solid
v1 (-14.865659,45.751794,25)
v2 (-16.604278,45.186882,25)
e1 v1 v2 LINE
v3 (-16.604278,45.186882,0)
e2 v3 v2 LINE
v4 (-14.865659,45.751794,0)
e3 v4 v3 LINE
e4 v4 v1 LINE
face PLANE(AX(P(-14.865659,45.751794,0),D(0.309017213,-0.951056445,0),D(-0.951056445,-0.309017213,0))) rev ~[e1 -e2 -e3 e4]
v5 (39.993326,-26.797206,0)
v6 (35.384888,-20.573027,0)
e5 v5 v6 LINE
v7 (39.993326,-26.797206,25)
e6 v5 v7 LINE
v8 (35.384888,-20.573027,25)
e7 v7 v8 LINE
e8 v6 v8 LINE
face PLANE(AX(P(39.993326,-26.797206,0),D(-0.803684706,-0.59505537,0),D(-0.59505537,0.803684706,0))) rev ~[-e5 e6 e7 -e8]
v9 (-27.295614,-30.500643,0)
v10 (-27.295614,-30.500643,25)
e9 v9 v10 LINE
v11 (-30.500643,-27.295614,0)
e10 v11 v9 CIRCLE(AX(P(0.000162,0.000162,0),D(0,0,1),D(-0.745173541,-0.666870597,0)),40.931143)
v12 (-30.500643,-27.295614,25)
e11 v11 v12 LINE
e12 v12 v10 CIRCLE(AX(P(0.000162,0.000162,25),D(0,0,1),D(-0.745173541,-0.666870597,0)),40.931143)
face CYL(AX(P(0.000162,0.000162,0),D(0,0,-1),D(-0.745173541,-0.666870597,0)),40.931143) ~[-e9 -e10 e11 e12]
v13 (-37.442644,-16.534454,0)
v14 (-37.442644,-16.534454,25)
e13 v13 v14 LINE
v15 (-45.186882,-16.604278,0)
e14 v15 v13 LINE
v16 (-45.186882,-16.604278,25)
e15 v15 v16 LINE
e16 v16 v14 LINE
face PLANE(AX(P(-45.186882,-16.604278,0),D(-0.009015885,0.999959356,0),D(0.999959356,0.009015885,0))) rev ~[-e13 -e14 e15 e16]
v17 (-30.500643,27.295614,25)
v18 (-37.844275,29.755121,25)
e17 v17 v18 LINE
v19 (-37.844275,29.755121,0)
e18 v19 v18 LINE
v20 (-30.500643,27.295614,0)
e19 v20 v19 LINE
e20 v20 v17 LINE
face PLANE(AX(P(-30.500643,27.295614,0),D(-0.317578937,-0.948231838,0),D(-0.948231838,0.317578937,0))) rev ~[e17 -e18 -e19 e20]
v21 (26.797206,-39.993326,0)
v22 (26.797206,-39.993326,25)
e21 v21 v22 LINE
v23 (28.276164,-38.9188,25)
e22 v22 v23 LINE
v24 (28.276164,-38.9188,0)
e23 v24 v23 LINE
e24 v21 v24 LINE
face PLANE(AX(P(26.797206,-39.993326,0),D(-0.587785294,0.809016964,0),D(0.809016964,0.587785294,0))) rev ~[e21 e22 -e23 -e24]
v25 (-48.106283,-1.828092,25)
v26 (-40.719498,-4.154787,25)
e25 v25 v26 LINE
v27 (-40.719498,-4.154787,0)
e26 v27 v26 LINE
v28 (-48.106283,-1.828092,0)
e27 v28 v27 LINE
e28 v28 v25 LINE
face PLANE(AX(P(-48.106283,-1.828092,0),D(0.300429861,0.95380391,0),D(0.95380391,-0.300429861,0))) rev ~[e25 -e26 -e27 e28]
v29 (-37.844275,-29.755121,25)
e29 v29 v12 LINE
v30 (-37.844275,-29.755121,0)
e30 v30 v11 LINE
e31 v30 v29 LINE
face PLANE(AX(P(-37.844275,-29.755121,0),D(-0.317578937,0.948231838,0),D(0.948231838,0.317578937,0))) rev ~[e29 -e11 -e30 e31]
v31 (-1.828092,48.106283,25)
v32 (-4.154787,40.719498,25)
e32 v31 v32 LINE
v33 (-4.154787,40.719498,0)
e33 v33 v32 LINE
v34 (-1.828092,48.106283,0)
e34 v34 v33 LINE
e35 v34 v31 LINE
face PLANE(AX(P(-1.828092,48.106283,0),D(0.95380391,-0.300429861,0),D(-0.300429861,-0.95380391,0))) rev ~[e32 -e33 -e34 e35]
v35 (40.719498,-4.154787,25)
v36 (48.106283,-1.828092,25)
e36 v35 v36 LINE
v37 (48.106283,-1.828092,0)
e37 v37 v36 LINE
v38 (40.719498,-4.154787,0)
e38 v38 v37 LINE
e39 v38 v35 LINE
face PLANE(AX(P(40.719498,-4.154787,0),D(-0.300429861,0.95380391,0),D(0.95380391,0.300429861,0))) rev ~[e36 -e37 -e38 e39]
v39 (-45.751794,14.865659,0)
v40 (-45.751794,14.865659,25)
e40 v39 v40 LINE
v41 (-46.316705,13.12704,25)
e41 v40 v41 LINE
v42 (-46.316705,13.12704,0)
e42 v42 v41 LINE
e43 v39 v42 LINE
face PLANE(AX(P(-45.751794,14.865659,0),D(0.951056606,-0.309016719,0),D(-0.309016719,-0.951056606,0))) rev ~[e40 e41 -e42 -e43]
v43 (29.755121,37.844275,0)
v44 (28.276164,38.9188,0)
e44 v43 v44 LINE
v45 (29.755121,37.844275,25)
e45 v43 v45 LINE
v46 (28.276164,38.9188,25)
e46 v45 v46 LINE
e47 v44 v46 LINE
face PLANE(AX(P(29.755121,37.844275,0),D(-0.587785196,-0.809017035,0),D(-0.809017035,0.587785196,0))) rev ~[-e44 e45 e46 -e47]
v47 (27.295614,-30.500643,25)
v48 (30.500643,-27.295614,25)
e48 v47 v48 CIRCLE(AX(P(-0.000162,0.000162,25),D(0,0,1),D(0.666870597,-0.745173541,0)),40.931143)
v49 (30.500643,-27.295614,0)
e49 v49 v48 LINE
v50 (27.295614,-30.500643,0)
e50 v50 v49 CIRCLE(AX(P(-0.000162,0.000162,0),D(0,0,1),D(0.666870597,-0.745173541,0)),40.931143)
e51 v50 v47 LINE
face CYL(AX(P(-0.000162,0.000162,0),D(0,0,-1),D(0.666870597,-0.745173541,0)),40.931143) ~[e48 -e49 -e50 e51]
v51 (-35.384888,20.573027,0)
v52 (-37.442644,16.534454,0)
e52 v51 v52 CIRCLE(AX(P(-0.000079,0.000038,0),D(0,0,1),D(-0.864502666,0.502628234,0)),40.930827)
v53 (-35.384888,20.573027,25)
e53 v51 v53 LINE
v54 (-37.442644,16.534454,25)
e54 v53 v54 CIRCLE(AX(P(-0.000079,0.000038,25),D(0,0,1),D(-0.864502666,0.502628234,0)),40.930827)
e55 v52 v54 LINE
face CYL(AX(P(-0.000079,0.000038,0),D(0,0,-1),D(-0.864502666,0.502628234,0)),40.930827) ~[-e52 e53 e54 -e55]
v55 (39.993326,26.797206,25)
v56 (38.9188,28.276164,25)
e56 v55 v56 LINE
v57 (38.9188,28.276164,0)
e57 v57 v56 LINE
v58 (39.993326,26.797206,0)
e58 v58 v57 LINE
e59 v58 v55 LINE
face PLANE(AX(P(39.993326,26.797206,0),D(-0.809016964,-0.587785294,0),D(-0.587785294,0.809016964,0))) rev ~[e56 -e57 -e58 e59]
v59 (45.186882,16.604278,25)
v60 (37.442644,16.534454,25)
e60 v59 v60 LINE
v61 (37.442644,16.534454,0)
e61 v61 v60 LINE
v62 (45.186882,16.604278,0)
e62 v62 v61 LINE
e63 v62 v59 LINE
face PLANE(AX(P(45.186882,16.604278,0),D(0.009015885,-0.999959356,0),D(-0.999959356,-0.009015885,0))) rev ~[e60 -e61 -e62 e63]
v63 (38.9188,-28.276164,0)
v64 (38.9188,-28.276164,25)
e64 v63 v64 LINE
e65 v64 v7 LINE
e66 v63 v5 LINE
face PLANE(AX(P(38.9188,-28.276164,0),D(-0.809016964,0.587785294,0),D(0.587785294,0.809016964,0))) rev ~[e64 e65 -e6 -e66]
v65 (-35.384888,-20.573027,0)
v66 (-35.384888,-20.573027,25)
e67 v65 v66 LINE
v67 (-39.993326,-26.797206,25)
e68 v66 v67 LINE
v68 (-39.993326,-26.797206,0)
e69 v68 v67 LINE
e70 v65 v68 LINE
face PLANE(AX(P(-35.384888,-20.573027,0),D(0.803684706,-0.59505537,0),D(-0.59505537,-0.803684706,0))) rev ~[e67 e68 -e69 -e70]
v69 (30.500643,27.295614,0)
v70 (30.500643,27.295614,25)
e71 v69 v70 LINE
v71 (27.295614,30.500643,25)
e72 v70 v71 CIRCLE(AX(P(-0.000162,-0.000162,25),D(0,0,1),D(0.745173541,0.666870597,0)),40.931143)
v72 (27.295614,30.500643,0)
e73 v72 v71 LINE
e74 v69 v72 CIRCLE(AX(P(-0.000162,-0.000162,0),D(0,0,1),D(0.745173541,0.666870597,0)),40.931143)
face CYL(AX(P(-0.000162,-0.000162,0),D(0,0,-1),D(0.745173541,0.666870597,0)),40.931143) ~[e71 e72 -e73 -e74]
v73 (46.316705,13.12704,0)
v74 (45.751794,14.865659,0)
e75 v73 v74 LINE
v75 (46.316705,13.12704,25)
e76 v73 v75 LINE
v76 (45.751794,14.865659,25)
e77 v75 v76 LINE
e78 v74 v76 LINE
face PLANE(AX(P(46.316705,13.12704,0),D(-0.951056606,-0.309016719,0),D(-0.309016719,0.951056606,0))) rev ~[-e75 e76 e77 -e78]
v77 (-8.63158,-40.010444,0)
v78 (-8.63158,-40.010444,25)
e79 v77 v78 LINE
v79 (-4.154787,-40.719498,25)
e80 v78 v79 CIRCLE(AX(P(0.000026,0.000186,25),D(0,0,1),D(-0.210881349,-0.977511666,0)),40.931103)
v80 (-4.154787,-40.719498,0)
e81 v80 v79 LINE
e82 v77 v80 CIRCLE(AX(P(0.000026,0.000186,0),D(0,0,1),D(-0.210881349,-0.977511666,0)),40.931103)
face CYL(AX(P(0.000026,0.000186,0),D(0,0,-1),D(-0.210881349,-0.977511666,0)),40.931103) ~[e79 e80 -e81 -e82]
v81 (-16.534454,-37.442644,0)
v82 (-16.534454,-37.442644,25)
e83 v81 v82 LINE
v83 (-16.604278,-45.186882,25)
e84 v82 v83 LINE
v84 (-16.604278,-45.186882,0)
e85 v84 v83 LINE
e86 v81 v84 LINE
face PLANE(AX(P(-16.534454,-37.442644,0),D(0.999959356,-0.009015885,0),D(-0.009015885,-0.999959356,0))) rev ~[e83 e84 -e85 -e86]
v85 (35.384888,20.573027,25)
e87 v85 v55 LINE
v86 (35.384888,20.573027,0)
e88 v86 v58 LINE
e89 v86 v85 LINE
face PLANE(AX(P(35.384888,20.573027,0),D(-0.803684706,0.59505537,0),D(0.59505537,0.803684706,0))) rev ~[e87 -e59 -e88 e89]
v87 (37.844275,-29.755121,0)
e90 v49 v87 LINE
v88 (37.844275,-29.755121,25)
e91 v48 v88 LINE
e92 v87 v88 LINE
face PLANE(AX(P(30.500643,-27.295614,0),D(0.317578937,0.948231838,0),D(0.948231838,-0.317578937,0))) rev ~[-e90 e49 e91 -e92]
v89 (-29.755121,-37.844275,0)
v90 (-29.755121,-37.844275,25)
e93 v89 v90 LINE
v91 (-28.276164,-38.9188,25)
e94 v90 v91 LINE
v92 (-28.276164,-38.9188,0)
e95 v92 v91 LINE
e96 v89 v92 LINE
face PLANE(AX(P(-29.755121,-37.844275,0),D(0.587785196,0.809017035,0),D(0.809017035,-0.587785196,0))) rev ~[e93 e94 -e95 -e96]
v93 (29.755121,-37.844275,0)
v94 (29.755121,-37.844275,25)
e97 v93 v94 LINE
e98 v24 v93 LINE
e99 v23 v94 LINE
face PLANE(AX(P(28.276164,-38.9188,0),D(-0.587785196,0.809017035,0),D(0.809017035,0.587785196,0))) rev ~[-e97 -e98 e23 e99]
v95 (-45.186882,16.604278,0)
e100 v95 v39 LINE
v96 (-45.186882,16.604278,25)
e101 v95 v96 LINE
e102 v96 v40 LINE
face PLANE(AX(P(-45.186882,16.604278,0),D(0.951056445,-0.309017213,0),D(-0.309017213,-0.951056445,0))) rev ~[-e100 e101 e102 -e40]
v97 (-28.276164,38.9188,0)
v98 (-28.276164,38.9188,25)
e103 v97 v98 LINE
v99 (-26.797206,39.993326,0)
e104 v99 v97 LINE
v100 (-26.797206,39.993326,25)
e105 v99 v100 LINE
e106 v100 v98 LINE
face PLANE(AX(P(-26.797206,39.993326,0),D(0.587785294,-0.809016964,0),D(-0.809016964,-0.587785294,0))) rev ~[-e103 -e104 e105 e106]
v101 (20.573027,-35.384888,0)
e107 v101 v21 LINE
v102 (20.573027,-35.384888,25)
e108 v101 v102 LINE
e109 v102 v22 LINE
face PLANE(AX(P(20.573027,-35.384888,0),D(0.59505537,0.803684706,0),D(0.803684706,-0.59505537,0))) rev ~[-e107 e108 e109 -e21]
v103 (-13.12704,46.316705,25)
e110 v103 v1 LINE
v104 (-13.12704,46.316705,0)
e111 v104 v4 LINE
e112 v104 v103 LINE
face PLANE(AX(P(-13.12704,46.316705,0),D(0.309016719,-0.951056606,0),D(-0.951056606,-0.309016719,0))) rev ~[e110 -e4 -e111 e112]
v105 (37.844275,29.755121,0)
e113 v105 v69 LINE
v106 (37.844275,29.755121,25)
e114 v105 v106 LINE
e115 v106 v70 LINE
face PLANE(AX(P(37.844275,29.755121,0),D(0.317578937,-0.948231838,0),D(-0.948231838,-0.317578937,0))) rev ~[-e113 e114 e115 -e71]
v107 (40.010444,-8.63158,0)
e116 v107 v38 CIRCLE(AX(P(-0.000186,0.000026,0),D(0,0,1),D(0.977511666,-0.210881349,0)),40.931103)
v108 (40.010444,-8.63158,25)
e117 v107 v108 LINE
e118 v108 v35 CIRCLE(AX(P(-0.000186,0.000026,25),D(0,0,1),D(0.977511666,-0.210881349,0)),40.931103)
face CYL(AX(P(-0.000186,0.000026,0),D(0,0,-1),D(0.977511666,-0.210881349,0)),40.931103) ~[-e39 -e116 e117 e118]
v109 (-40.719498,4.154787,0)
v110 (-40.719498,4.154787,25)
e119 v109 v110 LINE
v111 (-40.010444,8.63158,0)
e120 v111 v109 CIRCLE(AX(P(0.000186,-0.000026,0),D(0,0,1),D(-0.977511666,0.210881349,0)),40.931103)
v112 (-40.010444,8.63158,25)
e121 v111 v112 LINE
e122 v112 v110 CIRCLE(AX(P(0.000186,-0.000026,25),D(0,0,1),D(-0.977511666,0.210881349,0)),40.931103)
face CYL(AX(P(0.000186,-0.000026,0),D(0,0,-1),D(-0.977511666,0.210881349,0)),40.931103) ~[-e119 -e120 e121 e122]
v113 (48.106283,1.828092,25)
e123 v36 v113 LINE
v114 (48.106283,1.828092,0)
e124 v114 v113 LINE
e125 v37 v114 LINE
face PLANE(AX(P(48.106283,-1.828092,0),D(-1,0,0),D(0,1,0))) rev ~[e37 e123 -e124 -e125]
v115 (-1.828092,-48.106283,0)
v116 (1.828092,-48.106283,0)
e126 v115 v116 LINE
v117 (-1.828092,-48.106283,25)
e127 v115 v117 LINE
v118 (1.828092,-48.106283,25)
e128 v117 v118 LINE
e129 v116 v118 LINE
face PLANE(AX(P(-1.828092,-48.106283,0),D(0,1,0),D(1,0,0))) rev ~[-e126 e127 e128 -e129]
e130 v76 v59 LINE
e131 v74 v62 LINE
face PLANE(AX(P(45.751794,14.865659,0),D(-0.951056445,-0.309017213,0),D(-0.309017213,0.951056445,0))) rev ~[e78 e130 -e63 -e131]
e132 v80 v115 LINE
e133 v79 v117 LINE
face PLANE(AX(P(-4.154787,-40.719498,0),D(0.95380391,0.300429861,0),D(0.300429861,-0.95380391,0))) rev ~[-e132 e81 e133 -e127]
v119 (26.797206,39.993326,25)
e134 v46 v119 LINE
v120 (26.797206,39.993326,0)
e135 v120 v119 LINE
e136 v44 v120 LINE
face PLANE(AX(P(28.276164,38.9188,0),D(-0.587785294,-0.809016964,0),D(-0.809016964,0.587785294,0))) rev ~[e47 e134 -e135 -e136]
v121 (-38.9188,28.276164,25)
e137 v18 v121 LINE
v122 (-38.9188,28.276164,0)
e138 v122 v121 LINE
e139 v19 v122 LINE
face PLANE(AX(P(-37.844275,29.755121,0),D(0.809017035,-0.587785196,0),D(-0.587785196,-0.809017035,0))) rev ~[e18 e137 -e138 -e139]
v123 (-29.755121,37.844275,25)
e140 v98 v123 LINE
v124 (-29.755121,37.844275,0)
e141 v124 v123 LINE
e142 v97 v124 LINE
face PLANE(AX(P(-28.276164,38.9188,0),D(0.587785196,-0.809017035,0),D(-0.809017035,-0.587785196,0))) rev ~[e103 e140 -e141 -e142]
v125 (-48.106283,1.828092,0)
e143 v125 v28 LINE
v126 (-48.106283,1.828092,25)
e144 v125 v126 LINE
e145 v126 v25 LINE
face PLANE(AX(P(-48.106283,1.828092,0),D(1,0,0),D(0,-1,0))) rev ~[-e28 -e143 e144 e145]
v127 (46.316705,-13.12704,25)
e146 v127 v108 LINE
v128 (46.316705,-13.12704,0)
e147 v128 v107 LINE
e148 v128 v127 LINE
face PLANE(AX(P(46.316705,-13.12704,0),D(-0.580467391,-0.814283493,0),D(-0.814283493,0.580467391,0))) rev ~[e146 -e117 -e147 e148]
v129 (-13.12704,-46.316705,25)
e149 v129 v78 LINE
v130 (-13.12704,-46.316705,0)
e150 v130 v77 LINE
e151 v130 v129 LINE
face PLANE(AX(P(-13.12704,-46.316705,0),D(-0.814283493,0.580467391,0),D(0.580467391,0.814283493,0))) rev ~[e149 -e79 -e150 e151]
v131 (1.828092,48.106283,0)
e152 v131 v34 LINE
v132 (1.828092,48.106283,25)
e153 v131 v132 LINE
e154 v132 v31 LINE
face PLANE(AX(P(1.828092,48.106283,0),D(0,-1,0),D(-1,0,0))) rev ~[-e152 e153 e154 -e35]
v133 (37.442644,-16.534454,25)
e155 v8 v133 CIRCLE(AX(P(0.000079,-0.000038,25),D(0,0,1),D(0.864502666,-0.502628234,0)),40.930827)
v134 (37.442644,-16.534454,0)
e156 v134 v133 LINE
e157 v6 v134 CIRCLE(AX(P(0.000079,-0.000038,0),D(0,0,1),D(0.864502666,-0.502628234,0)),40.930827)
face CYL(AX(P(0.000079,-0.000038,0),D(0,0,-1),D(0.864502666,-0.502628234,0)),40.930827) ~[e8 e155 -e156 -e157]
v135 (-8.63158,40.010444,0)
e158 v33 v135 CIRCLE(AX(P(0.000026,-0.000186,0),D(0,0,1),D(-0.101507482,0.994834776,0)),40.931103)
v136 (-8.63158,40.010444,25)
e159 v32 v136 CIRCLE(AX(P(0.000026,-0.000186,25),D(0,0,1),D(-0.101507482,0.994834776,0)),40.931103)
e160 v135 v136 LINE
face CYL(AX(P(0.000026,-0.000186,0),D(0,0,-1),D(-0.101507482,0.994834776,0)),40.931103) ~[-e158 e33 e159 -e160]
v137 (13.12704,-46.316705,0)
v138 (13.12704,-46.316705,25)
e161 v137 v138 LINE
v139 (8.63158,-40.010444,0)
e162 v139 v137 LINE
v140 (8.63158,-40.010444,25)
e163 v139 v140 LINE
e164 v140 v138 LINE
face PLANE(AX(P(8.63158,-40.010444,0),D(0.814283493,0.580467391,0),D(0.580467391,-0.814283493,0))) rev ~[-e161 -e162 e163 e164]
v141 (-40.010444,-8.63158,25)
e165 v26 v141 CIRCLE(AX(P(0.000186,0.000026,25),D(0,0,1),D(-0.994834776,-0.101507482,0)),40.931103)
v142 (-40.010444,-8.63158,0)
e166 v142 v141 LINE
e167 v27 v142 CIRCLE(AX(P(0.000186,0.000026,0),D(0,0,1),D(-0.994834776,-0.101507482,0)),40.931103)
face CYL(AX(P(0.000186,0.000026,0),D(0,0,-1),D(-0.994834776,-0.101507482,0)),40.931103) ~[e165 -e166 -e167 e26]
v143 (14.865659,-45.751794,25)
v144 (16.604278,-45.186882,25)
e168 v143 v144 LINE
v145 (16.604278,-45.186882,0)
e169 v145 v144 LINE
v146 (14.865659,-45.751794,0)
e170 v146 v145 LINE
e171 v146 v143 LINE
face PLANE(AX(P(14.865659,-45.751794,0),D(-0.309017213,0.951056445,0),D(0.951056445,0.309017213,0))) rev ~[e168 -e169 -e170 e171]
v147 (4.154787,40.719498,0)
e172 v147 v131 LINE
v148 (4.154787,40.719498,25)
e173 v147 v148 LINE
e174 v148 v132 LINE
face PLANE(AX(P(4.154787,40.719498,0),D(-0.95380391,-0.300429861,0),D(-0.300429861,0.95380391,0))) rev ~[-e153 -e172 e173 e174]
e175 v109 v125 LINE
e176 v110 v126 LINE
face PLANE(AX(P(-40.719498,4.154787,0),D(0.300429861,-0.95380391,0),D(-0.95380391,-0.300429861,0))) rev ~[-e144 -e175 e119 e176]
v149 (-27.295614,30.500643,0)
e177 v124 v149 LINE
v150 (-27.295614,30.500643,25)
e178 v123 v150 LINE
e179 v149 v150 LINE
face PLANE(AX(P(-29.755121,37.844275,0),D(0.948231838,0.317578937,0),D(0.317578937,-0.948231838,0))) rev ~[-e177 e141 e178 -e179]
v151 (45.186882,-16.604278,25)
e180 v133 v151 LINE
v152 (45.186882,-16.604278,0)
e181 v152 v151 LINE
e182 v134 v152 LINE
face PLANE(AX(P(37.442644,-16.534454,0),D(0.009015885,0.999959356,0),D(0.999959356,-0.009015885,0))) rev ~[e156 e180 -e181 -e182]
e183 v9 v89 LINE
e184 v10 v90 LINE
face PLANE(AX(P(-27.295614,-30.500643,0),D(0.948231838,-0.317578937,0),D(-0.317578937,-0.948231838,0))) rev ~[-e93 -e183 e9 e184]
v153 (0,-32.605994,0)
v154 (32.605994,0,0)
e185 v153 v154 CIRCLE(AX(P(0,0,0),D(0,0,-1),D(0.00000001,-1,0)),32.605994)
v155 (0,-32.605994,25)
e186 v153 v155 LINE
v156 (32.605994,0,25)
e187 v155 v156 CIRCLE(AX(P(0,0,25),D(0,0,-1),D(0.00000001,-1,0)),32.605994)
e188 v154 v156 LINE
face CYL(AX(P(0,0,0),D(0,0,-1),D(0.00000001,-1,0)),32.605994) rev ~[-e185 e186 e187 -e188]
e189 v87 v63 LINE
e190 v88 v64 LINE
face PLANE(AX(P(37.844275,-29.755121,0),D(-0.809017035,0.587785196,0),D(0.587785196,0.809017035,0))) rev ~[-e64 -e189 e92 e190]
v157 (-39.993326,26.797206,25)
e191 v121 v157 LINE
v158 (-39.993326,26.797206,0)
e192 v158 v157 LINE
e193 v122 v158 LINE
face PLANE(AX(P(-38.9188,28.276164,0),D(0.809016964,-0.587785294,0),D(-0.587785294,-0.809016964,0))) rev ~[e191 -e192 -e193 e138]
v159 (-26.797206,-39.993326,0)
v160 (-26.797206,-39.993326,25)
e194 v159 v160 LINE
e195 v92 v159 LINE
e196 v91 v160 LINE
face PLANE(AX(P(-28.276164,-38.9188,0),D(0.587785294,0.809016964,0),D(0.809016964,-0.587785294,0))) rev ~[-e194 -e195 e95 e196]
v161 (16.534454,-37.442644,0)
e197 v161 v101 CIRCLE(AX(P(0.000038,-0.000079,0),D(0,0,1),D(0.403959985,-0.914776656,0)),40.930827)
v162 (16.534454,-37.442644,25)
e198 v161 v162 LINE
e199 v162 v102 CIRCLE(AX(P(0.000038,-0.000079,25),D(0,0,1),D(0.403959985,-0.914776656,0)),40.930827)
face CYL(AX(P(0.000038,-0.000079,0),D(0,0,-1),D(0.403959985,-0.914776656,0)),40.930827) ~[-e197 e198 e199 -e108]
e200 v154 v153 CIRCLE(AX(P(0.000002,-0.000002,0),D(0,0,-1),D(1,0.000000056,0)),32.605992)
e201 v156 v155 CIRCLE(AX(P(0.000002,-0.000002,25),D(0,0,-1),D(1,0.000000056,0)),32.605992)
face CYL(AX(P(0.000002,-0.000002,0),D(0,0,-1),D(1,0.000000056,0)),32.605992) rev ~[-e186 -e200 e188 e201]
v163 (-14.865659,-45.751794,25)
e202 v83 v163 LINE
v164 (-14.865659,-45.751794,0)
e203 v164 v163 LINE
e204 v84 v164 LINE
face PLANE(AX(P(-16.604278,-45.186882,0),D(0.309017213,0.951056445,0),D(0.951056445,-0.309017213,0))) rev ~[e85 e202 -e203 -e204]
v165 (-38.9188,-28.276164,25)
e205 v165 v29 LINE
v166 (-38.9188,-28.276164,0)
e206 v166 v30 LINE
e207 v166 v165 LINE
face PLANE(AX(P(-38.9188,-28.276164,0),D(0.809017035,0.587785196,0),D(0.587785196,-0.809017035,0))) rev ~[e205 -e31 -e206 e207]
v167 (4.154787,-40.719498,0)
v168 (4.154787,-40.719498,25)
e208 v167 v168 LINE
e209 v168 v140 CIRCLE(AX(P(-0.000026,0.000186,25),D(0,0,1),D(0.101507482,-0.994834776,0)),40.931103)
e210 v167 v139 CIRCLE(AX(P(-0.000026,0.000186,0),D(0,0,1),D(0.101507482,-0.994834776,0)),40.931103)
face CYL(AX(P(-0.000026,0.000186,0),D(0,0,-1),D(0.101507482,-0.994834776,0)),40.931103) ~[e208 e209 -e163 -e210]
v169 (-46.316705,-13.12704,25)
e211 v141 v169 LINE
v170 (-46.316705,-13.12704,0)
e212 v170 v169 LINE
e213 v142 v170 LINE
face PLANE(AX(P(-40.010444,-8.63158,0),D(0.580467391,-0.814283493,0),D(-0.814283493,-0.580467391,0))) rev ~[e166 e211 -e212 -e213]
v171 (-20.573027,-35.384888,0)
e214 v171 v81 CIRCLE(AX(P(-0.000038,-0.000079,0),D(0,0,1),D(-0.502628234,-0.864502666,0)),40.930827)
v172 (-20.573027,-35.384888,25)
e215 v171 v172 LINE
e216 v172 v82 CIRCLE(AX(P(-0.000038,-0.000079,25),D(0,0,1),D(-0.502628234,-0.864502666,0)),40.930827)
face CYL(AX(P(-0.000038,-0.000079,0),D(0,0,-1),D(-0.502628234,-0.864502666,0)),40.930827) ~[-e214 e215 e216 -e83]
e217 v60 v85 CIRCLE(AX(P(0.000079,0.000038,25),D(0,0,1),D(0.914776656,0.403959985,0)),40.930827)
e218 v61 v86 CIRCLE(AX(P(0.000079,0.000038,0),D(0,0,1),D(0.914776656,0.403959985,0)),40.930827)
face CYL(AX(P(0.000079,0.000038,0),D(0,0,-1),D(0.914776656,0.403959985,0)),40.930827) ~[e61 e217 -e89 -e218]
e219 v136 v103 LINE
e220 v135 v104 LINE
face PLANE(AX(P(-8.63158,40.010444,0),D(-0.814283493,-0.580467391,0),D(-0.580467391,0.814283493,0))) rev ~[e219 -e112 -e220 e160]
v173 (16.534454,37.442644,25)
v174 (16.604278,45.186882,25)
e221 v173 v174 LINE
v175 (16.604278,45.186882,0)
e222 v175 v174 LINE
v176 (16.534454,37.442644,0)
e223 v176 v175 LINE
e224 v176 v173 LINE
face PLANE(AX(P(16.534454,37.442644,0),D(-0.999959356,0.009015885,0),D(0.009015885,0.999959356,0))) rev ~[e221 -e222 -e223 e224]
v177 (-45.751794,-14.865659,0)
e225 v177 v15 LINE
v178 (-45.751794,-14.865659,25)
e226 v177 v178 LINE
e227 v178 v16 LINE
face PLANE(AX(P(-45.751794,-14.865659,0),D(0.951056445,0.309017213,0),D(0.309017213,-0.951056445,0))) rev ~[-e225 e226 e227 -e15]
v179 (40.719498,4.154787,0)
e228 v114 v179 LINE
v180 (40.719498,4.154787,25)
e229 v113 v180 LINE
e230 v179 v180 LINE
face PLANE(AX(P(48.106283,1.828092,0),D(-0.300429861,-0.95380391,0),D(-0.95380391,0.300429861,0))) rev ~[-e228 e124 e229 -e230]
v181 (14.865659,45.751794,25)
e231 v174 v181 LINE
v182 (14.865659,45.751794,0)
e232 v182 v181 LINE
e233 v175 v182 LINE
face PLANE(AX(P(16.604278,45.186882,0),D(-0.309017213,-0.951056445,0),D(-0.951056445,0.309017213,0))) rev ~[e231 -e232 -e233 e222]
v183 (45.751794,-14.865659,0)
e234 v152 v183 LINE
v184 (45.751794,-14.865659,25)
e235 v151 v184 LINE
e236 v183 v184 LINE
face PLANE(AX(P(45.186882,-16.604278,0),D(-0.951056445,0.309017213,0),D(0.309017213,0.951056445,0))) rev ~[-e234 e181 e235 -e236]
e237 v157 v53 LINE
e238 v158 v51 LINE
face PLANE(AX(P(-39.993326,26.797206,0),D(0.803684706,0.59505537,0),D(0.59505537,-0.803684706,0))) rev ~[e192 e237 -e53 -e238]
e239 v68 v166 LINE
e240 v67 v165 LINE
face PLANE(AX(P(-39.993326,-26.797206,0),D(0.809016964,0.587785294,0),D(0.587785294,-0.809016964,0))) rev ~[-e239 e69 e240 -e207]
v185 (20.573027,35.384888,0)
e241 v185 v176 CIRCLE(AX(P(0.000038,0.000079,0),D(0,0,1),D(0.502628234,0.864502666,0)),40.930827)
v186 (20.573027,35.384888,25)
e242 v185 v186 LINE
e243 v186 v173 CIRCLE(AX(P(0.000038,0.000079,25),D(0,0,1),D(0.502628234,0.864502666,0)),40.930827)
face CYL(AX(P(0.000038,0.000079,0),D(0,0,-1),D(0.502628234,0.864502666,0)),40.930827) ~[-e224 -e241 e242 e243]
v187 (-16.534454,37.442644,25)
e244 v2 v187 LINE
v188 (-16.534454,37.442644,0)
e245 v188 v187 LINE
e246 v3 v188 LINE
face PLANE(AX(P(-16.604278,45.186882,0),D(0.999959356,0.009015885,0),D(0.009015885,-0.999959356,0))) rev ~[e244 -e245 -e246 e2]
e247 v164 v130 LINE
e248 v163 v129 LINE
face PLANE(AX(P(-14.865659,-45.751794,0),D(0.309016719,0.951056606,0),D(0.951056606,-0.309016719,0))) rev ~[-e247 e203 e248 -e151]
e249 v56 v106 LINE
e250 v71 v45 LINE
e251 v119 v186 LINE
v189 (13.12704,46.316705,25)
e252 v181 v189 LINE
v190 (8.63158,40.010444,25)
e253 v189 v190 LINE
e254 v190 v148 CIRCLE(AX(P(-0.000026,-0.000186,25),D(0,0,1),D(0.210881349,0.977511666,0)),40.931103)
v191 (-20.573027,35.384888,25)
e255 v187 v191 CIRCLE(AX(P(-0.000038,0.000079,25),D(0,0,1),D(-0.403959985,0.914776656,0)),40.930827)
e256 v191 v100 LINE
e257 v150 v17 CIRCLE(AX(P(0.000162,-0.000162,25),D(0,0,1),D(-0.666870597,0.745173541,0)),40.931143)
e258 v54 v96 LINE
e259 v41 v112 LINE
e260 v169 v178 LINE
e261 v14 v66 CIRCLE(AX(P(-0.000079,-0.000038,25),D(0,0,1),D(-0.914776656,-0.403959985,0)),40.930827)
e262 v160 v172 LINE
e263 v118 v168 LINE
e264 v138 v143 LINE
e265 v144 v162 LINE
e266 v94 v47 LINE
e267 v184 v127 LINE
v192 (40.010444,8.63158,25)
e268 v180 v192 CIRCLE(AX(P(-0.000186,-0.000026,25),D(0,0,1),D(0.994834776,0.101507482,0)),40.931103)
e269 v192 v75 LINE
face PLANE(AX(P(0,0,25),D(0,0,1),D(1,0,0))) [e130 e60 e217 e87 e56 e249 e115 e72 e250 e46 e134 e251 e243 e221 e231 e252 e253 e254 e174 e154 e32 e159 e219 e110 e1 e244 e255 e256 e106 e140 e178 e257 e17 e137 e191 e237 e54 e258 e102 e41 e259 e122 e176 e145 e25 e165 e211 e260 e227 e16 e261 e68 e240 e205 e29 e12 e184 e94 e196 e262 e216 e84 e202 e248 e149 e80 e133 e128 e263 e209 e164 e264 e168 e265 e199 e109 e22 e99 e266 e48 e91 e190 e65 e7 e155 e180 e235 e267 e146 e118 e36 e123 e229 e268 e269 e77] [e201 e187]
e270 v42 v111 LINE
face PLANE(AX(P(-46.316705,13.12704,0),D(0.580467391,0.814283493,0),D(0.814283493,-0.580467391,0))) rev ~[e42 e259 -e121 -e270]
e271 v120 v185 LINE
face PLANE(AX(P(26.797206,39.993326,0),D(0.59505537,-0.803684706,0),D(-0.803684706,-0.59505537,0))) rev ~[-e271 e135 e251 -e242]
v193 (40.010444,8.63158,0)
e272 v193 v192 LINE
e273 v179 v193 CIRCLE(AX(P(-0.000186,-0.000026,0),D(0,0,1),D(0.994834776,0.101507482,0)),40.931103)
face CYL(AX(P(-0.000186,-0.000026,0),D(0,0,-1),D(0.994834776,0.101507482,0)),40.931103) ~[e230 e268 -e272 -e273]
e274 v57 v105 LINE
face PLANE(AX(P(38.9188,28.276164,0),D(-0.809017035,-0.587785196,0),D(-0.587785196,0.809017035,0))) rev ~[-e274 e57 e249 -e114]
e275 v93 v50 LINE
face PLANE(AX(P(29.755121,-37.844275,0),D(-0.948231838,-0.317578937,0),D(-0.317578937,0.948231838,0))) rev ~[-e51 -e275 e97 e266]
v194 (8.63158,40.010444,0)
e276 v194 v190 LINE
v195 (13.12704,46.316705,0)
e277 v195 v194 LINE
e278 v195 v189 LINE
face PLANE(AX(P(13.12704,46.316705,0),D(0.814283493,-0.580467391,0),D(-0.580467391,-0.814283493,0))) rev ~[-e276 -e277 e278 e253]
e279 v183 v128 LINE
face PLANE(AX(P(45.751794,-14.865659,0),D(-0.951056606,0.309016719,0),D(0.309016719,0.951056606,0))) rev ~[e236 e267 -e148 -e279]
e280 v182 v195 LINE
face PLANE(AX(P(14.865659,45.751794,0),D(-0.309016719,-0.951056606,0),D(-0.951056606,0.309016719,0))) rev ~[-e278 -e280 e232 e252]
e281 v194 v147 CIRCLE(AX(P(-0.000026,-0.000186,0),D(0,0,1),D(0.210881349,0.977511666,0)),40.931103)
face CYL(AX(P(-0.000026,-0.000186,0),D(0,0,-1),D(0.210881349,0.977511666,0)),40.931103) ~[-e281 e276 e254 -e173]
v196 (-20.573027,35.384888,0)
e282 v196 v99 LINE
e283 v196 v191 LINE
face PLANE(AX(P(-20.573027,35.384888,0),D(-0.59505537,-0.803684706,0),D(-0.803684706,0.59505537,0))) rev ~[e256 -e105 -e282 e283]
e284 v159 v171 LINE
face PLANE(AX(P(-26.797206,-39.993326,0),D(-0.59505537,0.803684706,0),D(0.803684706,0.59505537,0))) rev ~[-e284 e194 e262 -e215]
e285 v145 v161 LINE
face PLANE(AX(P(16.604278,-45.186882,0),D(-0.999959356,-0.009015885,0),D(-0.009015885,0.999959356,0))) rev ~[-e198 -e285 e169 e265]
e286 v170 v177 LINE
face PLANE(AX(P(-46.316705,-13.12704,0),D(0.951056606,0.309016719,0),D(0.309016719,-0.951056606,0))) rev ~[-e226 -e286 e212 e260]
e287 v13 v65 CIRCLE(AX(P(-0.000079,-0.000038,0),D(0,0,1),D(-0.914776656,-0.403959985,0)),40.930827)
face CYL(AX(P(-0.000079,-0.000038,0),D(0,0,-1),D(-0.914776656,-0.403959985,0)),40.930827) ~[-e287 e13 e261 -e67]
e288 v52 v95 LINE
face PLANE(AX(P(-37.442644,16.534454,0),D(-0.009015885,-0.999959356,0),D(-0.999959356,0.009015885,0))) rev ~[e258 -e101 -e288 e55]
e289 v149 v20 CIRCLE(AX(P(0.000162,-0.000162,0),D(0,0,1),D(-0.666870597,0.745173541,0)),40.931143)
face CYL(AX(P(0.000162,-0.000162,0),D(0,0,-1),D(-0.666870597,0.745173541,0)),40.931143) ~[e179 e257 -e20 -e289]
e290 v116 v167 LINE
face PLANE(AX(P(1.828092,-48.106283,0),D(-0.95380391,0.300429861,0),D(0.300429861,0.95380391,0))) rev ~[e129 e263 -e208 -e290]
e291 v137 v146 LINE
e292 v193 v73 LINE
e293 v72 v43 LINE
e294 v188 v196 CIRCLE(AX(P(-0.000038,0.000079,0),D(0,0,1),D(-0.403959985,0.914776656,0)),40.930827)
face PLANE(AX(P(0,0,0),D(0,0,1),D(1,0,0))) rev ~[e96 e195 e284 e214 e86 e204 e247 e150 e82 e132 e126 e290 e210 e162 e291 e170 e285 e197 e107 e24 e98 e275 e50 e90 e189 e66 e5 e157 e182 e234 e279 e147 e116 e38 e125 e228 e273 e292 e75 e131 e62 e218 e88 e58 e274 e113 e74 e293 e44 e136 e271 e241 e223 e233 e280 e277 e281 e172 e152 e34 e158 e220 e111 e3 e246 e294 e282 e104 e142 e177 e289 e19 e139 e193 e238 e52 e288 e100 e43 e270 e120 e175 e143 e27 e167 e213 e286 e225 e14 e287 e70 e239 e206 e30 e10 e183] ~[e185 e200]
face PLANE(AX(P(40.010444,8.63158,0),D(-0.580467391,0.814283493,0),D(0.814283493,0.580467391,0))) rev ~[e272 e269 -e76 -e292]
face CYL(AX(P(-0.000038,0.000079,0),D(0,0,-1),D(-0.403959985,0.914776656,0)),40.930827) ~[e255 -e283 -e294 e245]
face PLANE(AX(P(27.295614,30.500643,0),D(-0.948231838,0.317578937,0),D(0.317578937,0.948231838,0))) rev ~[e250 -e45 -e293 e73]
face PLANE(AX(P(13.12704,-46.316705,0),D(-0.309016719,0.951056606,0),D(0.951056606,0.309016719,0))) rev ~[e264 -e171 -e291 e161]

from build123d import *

# Parameters (mm, degrees)
F2_DEPTH = 25


with BuildPart() as f2:
    # F1 (on Top) → F2 (new body)
    with BuildSketch(Plane.XY):
        with BuildLine():
            Line((-1.828092, -48.106283), (0, -48.106283))
            Line((0, -48.106283), (1.828092, -48.106283))
            Line((1.828092, -48.106283), (4.154787, -40.719498))
            ThreePointArc((4.154787, -40.719498), (6.403006, -40.426987), (8.63158, -40.010444))
            Line((8.63158, -40.010444), (13.12704, -46.316705))
            Line((13.12704, -46.316705), (14.865659, -45.751794))
            Line((14.865659, -45.751794), (16.604278, -45.186882))
            Line((16.604278, -45.186882), (16.534454, -37.442644))
            ThreePointArc((16.534454, -37.442644), (18.582246, -36.469712), (20.573027, -35.384888))
            Line((20.573027, -35.384888), (26.797206, -39.993326))
            Line((26.797206, -39.993326), (28.276164, -38.9188))
            Line((28.276164, -38.9188), (29.755121, -37.844275))
            Line((29.755121, -37.844275), (27.295614, -30.500643))
            ThreePointArc((27.295614, -30.500643), (28.942527, -28.942527), (30.500643, -27.295614))
            Line((30.500643, -27.295614), (37.844275, -29.755121))
            Line((37.844275, -29.755121), (38.9188, -28.276164))
            Line((38.9188, -28.276164), (39.993326, -26.797206))
            Line((39.993326, -26.797206), (35.384888, -20.573027))
            ThreePointArc((35.384888, -20.573027), (36.469712, -18.582246), (37.442644, -16.534454))
            Line((37.442644, -16.534454), (45.186882, -16.604278))
            Line((45.186882, -16.604278), (45.751794, -14.865659))
            Line((45.751794, -14.865659), (46.316705, -13.12704))
            Line((46.316705, -13.12704), (40.010444, -8.63158))
            ThreePointArc((40.010444, -8.63158), (40.426987, -6.403006), (40.719498, -4.154787))
            Line((40.719498, -4.154787), (48.106283, -1.828092))
            Line((48.106283, -1.828092), (48.106283, 0))
            Line((48.106283, 0), (48.106283, 1.828092))
            Line((48.106283, 1.828092), (40.719498, 4.154787))
            ThreePointArc((40.719498, 4.154787), (40.426987, 6.403006), (40.010444, 8.63158))
            Line((40.010444, 8.63158), (46.316705, 13.12704))
            Line((46.316705, 13.12704), (45.751794, 14.865659))
            Line((45.751794, 14.865659), (45.186882, 16.604278))
            Line((45.186882, 16.604278), (37.442644, 16.534454))
            ThreePointArc((37.442644, 16.534454), (36.469712, 18.582246), (35.384888, 20.573027))
            Line((35.384888, 20.573027), (39.993326, 26.797206))
            Line((39.993326, 26.797206), (38.9188, 28.276164))
            Line((38.9188, 28.276164), (37.844275, 29.755121))
            Line((37.844275, 29.755121), (30.500643, 27.295614))
            ThreePointArc((30.500643, 27.295614), (28.942527, 28.942527), (27.295614, 30.500643))
            Line((27.295614, 30.500643), (29.755121, 37.844275))
            Line((29.755121, 37.844275), (28.276164, 38.9188))
            Line((28.276164, 38.9188), (26.797206, 39.993326))
            Line((26.797206, 39.993326), (20.573027, 35.384888))
            ThreePointArc((20.573027, 35.384888), (18.582246, 36.469712), (16.534454, 37.442644))
            Line((16.534454, 37.442644), (16.604278, 45.186882))
            Line((16.604278, 45.186882), (14.865659, 45.751794))
            Line((14.865659, 45.751794), (13.12704, 46.316705))
            Line((13.12704, 46.316705), (8.63158, 40.010444))
            ThreePointArc((8.63158, 40.010444), (6.403006, 40.426987), (4.154787, 40.719498))
            Line((4.154787, 40.719498), (1.828092, 48.106283))
            Line((1.828092, 48.106283), (0, 48.106283))
            Line((0, 48.106283), (-1.828092, 48.106283))
            Line((-1.828092, 48.106283), (-4.154787, 40.719498))
            ThreePointArc((-4.154787, 40.719498), (-6.403006, 40.426987), (-8.63158, 40.010444))
            Line((-8.63158, 40.010444), (-13.12704, 46.316705))
            Line((-13.12704, 46.316705), (-14.865659, 45.751794))
            Line((-14.865659, 45.751794), (-16.604278, 45.186882))
            Line((-16.604278, 45.186882), (-16.534454, 37.442644))
            ThreePointArc((-16.534454, 37.442644), (-18.582246, 36.469712), (-20.573027, 35.384888))
            Line((-20.573027, 35.384888), (-26.797206, 39.993326))
            Line((-26.797206, 39.993326), (-28.276164, 38.9188))
            Line((-28.276164, 38.9188), (-29.755121, 37.844275))
            Line((-29.755121, 37.844275), (-27.295614, 30.500643))
            ThreePointArc((-27.295614, 30.500643), (-28.942527, 28.942527), (-30.500643, 27.295614))
            Line((-30.500643, 27.295614), (-37.844275, 29.755121))
            Line((-37.844275, 29.755121), (-38.9188, 28.276164))
            Line((-38.9188, 28.276164), (-39.993326, 26.797206))
            Line((-39.993326, 26.797206), (-35.384888, 20.573027))
            ThreePointArc((-35.384888, 20.573027), (-36.469712, 18.582246), (-37.442644, 16.534454))
            Line((-37.442644, 16.534454), (-45.186882, 16.604278))
            Line((-45.186882, 16.604278), (-45.751794, 14.865659))
            Line((-45.751794, 14.865659), (-46.316705, 13.12704))
            Line((-46.316705, 13.12704), (-40.010444, 8.63158))
            ThreePointArc((-40.010444, 8.63158), (-40.426987, 6.403006), (-40.719498, 4.154787))
            Line((-40.719498, 4.154787), (-48.106283, 1.828092))
            Line((-48.106283, 1.828092), (-48.106283, 0))
            Line((-48.106283, 0), (-48.106283, -1.828092))
            Line((-48.106283, -1.828092), (-40.719498, -4.154787))
            ThreePointArc((-40.719498, -4.154787), (-40.426987, -6.403006), (-40.010444, -8.63158))
            Line((-40.010444, -8.63158), (-46.316705, -13.12704))
            Line((-46.316705, -13.12704), (-45.751794, -14.865659))
            Line((-45.751794, -14.865659), (-45.186882, -16.604278))
            Line((-45.186882, -16.604278), (-37.442644, -16.534454))
            ThreePointArc((-37.442644, -16.534454), (-36.469712, -18.582246), (-35.384888, -20.573027))
            Line((-35.384888, -20.573027), (-39.993326, -26.797206))
            Line((-39.993326, -26.797206), (-38.9188, -28.276164))
            Line((-38.9188, -28.276164), (-37.844275, -29.755121))
            Line((-37.844275, -29.755121), (-30.500643, -27.295614))
            ThreePointArc((-30.500643, -27.295614), (-28.942527, -28.942527), (-27.295614, -30.500643))
            Line((-27.295614, -30.500643), (-29.755121, -37.844275))
            Line((-29.755121, -37.844275), (-28.276164, -38.9188))
            Line((-28.276164, -38.9188), (-26.797206, -39.993326))
            Line((-26.797206, -39.993326), (-20.573027, -35.384888))
            ThreePointArc((-20.573027, -35.384888), (-18.582246, -36.469712), (-16.534454, -37.442644))
            Line((-16.534454, -37.442644), (-16.604278, -45.186882))
            Line((-16.604278, -45.186882), (-14.865659, -45.751794))
            Line((-14.865659, -45.751794), (-13.12704, -46.316705))
            Line((-13.12704, -46.316705), (-8.63158, -40.010444))
            ThreePointArc((-8.63158, -40.010444), (-6.403006, -40.426987), (-4.154787, -40.719498))
            Line((-4.154787, -40.719498), (-1.828092, -48.106283))
        make_face()
        with BuildLine():
            ThreePointArc((32.605994, 0), (23.05592, -23.05592), (0, -32.605994))
            ThreePointArc((0, -32.605994), (-23.05592, 23.05592), (32.605994, 0))
        make_face(mode=Mode.SUBTRACT)
    extrude(amount=F2_DEPTH)


solid = f2.part
